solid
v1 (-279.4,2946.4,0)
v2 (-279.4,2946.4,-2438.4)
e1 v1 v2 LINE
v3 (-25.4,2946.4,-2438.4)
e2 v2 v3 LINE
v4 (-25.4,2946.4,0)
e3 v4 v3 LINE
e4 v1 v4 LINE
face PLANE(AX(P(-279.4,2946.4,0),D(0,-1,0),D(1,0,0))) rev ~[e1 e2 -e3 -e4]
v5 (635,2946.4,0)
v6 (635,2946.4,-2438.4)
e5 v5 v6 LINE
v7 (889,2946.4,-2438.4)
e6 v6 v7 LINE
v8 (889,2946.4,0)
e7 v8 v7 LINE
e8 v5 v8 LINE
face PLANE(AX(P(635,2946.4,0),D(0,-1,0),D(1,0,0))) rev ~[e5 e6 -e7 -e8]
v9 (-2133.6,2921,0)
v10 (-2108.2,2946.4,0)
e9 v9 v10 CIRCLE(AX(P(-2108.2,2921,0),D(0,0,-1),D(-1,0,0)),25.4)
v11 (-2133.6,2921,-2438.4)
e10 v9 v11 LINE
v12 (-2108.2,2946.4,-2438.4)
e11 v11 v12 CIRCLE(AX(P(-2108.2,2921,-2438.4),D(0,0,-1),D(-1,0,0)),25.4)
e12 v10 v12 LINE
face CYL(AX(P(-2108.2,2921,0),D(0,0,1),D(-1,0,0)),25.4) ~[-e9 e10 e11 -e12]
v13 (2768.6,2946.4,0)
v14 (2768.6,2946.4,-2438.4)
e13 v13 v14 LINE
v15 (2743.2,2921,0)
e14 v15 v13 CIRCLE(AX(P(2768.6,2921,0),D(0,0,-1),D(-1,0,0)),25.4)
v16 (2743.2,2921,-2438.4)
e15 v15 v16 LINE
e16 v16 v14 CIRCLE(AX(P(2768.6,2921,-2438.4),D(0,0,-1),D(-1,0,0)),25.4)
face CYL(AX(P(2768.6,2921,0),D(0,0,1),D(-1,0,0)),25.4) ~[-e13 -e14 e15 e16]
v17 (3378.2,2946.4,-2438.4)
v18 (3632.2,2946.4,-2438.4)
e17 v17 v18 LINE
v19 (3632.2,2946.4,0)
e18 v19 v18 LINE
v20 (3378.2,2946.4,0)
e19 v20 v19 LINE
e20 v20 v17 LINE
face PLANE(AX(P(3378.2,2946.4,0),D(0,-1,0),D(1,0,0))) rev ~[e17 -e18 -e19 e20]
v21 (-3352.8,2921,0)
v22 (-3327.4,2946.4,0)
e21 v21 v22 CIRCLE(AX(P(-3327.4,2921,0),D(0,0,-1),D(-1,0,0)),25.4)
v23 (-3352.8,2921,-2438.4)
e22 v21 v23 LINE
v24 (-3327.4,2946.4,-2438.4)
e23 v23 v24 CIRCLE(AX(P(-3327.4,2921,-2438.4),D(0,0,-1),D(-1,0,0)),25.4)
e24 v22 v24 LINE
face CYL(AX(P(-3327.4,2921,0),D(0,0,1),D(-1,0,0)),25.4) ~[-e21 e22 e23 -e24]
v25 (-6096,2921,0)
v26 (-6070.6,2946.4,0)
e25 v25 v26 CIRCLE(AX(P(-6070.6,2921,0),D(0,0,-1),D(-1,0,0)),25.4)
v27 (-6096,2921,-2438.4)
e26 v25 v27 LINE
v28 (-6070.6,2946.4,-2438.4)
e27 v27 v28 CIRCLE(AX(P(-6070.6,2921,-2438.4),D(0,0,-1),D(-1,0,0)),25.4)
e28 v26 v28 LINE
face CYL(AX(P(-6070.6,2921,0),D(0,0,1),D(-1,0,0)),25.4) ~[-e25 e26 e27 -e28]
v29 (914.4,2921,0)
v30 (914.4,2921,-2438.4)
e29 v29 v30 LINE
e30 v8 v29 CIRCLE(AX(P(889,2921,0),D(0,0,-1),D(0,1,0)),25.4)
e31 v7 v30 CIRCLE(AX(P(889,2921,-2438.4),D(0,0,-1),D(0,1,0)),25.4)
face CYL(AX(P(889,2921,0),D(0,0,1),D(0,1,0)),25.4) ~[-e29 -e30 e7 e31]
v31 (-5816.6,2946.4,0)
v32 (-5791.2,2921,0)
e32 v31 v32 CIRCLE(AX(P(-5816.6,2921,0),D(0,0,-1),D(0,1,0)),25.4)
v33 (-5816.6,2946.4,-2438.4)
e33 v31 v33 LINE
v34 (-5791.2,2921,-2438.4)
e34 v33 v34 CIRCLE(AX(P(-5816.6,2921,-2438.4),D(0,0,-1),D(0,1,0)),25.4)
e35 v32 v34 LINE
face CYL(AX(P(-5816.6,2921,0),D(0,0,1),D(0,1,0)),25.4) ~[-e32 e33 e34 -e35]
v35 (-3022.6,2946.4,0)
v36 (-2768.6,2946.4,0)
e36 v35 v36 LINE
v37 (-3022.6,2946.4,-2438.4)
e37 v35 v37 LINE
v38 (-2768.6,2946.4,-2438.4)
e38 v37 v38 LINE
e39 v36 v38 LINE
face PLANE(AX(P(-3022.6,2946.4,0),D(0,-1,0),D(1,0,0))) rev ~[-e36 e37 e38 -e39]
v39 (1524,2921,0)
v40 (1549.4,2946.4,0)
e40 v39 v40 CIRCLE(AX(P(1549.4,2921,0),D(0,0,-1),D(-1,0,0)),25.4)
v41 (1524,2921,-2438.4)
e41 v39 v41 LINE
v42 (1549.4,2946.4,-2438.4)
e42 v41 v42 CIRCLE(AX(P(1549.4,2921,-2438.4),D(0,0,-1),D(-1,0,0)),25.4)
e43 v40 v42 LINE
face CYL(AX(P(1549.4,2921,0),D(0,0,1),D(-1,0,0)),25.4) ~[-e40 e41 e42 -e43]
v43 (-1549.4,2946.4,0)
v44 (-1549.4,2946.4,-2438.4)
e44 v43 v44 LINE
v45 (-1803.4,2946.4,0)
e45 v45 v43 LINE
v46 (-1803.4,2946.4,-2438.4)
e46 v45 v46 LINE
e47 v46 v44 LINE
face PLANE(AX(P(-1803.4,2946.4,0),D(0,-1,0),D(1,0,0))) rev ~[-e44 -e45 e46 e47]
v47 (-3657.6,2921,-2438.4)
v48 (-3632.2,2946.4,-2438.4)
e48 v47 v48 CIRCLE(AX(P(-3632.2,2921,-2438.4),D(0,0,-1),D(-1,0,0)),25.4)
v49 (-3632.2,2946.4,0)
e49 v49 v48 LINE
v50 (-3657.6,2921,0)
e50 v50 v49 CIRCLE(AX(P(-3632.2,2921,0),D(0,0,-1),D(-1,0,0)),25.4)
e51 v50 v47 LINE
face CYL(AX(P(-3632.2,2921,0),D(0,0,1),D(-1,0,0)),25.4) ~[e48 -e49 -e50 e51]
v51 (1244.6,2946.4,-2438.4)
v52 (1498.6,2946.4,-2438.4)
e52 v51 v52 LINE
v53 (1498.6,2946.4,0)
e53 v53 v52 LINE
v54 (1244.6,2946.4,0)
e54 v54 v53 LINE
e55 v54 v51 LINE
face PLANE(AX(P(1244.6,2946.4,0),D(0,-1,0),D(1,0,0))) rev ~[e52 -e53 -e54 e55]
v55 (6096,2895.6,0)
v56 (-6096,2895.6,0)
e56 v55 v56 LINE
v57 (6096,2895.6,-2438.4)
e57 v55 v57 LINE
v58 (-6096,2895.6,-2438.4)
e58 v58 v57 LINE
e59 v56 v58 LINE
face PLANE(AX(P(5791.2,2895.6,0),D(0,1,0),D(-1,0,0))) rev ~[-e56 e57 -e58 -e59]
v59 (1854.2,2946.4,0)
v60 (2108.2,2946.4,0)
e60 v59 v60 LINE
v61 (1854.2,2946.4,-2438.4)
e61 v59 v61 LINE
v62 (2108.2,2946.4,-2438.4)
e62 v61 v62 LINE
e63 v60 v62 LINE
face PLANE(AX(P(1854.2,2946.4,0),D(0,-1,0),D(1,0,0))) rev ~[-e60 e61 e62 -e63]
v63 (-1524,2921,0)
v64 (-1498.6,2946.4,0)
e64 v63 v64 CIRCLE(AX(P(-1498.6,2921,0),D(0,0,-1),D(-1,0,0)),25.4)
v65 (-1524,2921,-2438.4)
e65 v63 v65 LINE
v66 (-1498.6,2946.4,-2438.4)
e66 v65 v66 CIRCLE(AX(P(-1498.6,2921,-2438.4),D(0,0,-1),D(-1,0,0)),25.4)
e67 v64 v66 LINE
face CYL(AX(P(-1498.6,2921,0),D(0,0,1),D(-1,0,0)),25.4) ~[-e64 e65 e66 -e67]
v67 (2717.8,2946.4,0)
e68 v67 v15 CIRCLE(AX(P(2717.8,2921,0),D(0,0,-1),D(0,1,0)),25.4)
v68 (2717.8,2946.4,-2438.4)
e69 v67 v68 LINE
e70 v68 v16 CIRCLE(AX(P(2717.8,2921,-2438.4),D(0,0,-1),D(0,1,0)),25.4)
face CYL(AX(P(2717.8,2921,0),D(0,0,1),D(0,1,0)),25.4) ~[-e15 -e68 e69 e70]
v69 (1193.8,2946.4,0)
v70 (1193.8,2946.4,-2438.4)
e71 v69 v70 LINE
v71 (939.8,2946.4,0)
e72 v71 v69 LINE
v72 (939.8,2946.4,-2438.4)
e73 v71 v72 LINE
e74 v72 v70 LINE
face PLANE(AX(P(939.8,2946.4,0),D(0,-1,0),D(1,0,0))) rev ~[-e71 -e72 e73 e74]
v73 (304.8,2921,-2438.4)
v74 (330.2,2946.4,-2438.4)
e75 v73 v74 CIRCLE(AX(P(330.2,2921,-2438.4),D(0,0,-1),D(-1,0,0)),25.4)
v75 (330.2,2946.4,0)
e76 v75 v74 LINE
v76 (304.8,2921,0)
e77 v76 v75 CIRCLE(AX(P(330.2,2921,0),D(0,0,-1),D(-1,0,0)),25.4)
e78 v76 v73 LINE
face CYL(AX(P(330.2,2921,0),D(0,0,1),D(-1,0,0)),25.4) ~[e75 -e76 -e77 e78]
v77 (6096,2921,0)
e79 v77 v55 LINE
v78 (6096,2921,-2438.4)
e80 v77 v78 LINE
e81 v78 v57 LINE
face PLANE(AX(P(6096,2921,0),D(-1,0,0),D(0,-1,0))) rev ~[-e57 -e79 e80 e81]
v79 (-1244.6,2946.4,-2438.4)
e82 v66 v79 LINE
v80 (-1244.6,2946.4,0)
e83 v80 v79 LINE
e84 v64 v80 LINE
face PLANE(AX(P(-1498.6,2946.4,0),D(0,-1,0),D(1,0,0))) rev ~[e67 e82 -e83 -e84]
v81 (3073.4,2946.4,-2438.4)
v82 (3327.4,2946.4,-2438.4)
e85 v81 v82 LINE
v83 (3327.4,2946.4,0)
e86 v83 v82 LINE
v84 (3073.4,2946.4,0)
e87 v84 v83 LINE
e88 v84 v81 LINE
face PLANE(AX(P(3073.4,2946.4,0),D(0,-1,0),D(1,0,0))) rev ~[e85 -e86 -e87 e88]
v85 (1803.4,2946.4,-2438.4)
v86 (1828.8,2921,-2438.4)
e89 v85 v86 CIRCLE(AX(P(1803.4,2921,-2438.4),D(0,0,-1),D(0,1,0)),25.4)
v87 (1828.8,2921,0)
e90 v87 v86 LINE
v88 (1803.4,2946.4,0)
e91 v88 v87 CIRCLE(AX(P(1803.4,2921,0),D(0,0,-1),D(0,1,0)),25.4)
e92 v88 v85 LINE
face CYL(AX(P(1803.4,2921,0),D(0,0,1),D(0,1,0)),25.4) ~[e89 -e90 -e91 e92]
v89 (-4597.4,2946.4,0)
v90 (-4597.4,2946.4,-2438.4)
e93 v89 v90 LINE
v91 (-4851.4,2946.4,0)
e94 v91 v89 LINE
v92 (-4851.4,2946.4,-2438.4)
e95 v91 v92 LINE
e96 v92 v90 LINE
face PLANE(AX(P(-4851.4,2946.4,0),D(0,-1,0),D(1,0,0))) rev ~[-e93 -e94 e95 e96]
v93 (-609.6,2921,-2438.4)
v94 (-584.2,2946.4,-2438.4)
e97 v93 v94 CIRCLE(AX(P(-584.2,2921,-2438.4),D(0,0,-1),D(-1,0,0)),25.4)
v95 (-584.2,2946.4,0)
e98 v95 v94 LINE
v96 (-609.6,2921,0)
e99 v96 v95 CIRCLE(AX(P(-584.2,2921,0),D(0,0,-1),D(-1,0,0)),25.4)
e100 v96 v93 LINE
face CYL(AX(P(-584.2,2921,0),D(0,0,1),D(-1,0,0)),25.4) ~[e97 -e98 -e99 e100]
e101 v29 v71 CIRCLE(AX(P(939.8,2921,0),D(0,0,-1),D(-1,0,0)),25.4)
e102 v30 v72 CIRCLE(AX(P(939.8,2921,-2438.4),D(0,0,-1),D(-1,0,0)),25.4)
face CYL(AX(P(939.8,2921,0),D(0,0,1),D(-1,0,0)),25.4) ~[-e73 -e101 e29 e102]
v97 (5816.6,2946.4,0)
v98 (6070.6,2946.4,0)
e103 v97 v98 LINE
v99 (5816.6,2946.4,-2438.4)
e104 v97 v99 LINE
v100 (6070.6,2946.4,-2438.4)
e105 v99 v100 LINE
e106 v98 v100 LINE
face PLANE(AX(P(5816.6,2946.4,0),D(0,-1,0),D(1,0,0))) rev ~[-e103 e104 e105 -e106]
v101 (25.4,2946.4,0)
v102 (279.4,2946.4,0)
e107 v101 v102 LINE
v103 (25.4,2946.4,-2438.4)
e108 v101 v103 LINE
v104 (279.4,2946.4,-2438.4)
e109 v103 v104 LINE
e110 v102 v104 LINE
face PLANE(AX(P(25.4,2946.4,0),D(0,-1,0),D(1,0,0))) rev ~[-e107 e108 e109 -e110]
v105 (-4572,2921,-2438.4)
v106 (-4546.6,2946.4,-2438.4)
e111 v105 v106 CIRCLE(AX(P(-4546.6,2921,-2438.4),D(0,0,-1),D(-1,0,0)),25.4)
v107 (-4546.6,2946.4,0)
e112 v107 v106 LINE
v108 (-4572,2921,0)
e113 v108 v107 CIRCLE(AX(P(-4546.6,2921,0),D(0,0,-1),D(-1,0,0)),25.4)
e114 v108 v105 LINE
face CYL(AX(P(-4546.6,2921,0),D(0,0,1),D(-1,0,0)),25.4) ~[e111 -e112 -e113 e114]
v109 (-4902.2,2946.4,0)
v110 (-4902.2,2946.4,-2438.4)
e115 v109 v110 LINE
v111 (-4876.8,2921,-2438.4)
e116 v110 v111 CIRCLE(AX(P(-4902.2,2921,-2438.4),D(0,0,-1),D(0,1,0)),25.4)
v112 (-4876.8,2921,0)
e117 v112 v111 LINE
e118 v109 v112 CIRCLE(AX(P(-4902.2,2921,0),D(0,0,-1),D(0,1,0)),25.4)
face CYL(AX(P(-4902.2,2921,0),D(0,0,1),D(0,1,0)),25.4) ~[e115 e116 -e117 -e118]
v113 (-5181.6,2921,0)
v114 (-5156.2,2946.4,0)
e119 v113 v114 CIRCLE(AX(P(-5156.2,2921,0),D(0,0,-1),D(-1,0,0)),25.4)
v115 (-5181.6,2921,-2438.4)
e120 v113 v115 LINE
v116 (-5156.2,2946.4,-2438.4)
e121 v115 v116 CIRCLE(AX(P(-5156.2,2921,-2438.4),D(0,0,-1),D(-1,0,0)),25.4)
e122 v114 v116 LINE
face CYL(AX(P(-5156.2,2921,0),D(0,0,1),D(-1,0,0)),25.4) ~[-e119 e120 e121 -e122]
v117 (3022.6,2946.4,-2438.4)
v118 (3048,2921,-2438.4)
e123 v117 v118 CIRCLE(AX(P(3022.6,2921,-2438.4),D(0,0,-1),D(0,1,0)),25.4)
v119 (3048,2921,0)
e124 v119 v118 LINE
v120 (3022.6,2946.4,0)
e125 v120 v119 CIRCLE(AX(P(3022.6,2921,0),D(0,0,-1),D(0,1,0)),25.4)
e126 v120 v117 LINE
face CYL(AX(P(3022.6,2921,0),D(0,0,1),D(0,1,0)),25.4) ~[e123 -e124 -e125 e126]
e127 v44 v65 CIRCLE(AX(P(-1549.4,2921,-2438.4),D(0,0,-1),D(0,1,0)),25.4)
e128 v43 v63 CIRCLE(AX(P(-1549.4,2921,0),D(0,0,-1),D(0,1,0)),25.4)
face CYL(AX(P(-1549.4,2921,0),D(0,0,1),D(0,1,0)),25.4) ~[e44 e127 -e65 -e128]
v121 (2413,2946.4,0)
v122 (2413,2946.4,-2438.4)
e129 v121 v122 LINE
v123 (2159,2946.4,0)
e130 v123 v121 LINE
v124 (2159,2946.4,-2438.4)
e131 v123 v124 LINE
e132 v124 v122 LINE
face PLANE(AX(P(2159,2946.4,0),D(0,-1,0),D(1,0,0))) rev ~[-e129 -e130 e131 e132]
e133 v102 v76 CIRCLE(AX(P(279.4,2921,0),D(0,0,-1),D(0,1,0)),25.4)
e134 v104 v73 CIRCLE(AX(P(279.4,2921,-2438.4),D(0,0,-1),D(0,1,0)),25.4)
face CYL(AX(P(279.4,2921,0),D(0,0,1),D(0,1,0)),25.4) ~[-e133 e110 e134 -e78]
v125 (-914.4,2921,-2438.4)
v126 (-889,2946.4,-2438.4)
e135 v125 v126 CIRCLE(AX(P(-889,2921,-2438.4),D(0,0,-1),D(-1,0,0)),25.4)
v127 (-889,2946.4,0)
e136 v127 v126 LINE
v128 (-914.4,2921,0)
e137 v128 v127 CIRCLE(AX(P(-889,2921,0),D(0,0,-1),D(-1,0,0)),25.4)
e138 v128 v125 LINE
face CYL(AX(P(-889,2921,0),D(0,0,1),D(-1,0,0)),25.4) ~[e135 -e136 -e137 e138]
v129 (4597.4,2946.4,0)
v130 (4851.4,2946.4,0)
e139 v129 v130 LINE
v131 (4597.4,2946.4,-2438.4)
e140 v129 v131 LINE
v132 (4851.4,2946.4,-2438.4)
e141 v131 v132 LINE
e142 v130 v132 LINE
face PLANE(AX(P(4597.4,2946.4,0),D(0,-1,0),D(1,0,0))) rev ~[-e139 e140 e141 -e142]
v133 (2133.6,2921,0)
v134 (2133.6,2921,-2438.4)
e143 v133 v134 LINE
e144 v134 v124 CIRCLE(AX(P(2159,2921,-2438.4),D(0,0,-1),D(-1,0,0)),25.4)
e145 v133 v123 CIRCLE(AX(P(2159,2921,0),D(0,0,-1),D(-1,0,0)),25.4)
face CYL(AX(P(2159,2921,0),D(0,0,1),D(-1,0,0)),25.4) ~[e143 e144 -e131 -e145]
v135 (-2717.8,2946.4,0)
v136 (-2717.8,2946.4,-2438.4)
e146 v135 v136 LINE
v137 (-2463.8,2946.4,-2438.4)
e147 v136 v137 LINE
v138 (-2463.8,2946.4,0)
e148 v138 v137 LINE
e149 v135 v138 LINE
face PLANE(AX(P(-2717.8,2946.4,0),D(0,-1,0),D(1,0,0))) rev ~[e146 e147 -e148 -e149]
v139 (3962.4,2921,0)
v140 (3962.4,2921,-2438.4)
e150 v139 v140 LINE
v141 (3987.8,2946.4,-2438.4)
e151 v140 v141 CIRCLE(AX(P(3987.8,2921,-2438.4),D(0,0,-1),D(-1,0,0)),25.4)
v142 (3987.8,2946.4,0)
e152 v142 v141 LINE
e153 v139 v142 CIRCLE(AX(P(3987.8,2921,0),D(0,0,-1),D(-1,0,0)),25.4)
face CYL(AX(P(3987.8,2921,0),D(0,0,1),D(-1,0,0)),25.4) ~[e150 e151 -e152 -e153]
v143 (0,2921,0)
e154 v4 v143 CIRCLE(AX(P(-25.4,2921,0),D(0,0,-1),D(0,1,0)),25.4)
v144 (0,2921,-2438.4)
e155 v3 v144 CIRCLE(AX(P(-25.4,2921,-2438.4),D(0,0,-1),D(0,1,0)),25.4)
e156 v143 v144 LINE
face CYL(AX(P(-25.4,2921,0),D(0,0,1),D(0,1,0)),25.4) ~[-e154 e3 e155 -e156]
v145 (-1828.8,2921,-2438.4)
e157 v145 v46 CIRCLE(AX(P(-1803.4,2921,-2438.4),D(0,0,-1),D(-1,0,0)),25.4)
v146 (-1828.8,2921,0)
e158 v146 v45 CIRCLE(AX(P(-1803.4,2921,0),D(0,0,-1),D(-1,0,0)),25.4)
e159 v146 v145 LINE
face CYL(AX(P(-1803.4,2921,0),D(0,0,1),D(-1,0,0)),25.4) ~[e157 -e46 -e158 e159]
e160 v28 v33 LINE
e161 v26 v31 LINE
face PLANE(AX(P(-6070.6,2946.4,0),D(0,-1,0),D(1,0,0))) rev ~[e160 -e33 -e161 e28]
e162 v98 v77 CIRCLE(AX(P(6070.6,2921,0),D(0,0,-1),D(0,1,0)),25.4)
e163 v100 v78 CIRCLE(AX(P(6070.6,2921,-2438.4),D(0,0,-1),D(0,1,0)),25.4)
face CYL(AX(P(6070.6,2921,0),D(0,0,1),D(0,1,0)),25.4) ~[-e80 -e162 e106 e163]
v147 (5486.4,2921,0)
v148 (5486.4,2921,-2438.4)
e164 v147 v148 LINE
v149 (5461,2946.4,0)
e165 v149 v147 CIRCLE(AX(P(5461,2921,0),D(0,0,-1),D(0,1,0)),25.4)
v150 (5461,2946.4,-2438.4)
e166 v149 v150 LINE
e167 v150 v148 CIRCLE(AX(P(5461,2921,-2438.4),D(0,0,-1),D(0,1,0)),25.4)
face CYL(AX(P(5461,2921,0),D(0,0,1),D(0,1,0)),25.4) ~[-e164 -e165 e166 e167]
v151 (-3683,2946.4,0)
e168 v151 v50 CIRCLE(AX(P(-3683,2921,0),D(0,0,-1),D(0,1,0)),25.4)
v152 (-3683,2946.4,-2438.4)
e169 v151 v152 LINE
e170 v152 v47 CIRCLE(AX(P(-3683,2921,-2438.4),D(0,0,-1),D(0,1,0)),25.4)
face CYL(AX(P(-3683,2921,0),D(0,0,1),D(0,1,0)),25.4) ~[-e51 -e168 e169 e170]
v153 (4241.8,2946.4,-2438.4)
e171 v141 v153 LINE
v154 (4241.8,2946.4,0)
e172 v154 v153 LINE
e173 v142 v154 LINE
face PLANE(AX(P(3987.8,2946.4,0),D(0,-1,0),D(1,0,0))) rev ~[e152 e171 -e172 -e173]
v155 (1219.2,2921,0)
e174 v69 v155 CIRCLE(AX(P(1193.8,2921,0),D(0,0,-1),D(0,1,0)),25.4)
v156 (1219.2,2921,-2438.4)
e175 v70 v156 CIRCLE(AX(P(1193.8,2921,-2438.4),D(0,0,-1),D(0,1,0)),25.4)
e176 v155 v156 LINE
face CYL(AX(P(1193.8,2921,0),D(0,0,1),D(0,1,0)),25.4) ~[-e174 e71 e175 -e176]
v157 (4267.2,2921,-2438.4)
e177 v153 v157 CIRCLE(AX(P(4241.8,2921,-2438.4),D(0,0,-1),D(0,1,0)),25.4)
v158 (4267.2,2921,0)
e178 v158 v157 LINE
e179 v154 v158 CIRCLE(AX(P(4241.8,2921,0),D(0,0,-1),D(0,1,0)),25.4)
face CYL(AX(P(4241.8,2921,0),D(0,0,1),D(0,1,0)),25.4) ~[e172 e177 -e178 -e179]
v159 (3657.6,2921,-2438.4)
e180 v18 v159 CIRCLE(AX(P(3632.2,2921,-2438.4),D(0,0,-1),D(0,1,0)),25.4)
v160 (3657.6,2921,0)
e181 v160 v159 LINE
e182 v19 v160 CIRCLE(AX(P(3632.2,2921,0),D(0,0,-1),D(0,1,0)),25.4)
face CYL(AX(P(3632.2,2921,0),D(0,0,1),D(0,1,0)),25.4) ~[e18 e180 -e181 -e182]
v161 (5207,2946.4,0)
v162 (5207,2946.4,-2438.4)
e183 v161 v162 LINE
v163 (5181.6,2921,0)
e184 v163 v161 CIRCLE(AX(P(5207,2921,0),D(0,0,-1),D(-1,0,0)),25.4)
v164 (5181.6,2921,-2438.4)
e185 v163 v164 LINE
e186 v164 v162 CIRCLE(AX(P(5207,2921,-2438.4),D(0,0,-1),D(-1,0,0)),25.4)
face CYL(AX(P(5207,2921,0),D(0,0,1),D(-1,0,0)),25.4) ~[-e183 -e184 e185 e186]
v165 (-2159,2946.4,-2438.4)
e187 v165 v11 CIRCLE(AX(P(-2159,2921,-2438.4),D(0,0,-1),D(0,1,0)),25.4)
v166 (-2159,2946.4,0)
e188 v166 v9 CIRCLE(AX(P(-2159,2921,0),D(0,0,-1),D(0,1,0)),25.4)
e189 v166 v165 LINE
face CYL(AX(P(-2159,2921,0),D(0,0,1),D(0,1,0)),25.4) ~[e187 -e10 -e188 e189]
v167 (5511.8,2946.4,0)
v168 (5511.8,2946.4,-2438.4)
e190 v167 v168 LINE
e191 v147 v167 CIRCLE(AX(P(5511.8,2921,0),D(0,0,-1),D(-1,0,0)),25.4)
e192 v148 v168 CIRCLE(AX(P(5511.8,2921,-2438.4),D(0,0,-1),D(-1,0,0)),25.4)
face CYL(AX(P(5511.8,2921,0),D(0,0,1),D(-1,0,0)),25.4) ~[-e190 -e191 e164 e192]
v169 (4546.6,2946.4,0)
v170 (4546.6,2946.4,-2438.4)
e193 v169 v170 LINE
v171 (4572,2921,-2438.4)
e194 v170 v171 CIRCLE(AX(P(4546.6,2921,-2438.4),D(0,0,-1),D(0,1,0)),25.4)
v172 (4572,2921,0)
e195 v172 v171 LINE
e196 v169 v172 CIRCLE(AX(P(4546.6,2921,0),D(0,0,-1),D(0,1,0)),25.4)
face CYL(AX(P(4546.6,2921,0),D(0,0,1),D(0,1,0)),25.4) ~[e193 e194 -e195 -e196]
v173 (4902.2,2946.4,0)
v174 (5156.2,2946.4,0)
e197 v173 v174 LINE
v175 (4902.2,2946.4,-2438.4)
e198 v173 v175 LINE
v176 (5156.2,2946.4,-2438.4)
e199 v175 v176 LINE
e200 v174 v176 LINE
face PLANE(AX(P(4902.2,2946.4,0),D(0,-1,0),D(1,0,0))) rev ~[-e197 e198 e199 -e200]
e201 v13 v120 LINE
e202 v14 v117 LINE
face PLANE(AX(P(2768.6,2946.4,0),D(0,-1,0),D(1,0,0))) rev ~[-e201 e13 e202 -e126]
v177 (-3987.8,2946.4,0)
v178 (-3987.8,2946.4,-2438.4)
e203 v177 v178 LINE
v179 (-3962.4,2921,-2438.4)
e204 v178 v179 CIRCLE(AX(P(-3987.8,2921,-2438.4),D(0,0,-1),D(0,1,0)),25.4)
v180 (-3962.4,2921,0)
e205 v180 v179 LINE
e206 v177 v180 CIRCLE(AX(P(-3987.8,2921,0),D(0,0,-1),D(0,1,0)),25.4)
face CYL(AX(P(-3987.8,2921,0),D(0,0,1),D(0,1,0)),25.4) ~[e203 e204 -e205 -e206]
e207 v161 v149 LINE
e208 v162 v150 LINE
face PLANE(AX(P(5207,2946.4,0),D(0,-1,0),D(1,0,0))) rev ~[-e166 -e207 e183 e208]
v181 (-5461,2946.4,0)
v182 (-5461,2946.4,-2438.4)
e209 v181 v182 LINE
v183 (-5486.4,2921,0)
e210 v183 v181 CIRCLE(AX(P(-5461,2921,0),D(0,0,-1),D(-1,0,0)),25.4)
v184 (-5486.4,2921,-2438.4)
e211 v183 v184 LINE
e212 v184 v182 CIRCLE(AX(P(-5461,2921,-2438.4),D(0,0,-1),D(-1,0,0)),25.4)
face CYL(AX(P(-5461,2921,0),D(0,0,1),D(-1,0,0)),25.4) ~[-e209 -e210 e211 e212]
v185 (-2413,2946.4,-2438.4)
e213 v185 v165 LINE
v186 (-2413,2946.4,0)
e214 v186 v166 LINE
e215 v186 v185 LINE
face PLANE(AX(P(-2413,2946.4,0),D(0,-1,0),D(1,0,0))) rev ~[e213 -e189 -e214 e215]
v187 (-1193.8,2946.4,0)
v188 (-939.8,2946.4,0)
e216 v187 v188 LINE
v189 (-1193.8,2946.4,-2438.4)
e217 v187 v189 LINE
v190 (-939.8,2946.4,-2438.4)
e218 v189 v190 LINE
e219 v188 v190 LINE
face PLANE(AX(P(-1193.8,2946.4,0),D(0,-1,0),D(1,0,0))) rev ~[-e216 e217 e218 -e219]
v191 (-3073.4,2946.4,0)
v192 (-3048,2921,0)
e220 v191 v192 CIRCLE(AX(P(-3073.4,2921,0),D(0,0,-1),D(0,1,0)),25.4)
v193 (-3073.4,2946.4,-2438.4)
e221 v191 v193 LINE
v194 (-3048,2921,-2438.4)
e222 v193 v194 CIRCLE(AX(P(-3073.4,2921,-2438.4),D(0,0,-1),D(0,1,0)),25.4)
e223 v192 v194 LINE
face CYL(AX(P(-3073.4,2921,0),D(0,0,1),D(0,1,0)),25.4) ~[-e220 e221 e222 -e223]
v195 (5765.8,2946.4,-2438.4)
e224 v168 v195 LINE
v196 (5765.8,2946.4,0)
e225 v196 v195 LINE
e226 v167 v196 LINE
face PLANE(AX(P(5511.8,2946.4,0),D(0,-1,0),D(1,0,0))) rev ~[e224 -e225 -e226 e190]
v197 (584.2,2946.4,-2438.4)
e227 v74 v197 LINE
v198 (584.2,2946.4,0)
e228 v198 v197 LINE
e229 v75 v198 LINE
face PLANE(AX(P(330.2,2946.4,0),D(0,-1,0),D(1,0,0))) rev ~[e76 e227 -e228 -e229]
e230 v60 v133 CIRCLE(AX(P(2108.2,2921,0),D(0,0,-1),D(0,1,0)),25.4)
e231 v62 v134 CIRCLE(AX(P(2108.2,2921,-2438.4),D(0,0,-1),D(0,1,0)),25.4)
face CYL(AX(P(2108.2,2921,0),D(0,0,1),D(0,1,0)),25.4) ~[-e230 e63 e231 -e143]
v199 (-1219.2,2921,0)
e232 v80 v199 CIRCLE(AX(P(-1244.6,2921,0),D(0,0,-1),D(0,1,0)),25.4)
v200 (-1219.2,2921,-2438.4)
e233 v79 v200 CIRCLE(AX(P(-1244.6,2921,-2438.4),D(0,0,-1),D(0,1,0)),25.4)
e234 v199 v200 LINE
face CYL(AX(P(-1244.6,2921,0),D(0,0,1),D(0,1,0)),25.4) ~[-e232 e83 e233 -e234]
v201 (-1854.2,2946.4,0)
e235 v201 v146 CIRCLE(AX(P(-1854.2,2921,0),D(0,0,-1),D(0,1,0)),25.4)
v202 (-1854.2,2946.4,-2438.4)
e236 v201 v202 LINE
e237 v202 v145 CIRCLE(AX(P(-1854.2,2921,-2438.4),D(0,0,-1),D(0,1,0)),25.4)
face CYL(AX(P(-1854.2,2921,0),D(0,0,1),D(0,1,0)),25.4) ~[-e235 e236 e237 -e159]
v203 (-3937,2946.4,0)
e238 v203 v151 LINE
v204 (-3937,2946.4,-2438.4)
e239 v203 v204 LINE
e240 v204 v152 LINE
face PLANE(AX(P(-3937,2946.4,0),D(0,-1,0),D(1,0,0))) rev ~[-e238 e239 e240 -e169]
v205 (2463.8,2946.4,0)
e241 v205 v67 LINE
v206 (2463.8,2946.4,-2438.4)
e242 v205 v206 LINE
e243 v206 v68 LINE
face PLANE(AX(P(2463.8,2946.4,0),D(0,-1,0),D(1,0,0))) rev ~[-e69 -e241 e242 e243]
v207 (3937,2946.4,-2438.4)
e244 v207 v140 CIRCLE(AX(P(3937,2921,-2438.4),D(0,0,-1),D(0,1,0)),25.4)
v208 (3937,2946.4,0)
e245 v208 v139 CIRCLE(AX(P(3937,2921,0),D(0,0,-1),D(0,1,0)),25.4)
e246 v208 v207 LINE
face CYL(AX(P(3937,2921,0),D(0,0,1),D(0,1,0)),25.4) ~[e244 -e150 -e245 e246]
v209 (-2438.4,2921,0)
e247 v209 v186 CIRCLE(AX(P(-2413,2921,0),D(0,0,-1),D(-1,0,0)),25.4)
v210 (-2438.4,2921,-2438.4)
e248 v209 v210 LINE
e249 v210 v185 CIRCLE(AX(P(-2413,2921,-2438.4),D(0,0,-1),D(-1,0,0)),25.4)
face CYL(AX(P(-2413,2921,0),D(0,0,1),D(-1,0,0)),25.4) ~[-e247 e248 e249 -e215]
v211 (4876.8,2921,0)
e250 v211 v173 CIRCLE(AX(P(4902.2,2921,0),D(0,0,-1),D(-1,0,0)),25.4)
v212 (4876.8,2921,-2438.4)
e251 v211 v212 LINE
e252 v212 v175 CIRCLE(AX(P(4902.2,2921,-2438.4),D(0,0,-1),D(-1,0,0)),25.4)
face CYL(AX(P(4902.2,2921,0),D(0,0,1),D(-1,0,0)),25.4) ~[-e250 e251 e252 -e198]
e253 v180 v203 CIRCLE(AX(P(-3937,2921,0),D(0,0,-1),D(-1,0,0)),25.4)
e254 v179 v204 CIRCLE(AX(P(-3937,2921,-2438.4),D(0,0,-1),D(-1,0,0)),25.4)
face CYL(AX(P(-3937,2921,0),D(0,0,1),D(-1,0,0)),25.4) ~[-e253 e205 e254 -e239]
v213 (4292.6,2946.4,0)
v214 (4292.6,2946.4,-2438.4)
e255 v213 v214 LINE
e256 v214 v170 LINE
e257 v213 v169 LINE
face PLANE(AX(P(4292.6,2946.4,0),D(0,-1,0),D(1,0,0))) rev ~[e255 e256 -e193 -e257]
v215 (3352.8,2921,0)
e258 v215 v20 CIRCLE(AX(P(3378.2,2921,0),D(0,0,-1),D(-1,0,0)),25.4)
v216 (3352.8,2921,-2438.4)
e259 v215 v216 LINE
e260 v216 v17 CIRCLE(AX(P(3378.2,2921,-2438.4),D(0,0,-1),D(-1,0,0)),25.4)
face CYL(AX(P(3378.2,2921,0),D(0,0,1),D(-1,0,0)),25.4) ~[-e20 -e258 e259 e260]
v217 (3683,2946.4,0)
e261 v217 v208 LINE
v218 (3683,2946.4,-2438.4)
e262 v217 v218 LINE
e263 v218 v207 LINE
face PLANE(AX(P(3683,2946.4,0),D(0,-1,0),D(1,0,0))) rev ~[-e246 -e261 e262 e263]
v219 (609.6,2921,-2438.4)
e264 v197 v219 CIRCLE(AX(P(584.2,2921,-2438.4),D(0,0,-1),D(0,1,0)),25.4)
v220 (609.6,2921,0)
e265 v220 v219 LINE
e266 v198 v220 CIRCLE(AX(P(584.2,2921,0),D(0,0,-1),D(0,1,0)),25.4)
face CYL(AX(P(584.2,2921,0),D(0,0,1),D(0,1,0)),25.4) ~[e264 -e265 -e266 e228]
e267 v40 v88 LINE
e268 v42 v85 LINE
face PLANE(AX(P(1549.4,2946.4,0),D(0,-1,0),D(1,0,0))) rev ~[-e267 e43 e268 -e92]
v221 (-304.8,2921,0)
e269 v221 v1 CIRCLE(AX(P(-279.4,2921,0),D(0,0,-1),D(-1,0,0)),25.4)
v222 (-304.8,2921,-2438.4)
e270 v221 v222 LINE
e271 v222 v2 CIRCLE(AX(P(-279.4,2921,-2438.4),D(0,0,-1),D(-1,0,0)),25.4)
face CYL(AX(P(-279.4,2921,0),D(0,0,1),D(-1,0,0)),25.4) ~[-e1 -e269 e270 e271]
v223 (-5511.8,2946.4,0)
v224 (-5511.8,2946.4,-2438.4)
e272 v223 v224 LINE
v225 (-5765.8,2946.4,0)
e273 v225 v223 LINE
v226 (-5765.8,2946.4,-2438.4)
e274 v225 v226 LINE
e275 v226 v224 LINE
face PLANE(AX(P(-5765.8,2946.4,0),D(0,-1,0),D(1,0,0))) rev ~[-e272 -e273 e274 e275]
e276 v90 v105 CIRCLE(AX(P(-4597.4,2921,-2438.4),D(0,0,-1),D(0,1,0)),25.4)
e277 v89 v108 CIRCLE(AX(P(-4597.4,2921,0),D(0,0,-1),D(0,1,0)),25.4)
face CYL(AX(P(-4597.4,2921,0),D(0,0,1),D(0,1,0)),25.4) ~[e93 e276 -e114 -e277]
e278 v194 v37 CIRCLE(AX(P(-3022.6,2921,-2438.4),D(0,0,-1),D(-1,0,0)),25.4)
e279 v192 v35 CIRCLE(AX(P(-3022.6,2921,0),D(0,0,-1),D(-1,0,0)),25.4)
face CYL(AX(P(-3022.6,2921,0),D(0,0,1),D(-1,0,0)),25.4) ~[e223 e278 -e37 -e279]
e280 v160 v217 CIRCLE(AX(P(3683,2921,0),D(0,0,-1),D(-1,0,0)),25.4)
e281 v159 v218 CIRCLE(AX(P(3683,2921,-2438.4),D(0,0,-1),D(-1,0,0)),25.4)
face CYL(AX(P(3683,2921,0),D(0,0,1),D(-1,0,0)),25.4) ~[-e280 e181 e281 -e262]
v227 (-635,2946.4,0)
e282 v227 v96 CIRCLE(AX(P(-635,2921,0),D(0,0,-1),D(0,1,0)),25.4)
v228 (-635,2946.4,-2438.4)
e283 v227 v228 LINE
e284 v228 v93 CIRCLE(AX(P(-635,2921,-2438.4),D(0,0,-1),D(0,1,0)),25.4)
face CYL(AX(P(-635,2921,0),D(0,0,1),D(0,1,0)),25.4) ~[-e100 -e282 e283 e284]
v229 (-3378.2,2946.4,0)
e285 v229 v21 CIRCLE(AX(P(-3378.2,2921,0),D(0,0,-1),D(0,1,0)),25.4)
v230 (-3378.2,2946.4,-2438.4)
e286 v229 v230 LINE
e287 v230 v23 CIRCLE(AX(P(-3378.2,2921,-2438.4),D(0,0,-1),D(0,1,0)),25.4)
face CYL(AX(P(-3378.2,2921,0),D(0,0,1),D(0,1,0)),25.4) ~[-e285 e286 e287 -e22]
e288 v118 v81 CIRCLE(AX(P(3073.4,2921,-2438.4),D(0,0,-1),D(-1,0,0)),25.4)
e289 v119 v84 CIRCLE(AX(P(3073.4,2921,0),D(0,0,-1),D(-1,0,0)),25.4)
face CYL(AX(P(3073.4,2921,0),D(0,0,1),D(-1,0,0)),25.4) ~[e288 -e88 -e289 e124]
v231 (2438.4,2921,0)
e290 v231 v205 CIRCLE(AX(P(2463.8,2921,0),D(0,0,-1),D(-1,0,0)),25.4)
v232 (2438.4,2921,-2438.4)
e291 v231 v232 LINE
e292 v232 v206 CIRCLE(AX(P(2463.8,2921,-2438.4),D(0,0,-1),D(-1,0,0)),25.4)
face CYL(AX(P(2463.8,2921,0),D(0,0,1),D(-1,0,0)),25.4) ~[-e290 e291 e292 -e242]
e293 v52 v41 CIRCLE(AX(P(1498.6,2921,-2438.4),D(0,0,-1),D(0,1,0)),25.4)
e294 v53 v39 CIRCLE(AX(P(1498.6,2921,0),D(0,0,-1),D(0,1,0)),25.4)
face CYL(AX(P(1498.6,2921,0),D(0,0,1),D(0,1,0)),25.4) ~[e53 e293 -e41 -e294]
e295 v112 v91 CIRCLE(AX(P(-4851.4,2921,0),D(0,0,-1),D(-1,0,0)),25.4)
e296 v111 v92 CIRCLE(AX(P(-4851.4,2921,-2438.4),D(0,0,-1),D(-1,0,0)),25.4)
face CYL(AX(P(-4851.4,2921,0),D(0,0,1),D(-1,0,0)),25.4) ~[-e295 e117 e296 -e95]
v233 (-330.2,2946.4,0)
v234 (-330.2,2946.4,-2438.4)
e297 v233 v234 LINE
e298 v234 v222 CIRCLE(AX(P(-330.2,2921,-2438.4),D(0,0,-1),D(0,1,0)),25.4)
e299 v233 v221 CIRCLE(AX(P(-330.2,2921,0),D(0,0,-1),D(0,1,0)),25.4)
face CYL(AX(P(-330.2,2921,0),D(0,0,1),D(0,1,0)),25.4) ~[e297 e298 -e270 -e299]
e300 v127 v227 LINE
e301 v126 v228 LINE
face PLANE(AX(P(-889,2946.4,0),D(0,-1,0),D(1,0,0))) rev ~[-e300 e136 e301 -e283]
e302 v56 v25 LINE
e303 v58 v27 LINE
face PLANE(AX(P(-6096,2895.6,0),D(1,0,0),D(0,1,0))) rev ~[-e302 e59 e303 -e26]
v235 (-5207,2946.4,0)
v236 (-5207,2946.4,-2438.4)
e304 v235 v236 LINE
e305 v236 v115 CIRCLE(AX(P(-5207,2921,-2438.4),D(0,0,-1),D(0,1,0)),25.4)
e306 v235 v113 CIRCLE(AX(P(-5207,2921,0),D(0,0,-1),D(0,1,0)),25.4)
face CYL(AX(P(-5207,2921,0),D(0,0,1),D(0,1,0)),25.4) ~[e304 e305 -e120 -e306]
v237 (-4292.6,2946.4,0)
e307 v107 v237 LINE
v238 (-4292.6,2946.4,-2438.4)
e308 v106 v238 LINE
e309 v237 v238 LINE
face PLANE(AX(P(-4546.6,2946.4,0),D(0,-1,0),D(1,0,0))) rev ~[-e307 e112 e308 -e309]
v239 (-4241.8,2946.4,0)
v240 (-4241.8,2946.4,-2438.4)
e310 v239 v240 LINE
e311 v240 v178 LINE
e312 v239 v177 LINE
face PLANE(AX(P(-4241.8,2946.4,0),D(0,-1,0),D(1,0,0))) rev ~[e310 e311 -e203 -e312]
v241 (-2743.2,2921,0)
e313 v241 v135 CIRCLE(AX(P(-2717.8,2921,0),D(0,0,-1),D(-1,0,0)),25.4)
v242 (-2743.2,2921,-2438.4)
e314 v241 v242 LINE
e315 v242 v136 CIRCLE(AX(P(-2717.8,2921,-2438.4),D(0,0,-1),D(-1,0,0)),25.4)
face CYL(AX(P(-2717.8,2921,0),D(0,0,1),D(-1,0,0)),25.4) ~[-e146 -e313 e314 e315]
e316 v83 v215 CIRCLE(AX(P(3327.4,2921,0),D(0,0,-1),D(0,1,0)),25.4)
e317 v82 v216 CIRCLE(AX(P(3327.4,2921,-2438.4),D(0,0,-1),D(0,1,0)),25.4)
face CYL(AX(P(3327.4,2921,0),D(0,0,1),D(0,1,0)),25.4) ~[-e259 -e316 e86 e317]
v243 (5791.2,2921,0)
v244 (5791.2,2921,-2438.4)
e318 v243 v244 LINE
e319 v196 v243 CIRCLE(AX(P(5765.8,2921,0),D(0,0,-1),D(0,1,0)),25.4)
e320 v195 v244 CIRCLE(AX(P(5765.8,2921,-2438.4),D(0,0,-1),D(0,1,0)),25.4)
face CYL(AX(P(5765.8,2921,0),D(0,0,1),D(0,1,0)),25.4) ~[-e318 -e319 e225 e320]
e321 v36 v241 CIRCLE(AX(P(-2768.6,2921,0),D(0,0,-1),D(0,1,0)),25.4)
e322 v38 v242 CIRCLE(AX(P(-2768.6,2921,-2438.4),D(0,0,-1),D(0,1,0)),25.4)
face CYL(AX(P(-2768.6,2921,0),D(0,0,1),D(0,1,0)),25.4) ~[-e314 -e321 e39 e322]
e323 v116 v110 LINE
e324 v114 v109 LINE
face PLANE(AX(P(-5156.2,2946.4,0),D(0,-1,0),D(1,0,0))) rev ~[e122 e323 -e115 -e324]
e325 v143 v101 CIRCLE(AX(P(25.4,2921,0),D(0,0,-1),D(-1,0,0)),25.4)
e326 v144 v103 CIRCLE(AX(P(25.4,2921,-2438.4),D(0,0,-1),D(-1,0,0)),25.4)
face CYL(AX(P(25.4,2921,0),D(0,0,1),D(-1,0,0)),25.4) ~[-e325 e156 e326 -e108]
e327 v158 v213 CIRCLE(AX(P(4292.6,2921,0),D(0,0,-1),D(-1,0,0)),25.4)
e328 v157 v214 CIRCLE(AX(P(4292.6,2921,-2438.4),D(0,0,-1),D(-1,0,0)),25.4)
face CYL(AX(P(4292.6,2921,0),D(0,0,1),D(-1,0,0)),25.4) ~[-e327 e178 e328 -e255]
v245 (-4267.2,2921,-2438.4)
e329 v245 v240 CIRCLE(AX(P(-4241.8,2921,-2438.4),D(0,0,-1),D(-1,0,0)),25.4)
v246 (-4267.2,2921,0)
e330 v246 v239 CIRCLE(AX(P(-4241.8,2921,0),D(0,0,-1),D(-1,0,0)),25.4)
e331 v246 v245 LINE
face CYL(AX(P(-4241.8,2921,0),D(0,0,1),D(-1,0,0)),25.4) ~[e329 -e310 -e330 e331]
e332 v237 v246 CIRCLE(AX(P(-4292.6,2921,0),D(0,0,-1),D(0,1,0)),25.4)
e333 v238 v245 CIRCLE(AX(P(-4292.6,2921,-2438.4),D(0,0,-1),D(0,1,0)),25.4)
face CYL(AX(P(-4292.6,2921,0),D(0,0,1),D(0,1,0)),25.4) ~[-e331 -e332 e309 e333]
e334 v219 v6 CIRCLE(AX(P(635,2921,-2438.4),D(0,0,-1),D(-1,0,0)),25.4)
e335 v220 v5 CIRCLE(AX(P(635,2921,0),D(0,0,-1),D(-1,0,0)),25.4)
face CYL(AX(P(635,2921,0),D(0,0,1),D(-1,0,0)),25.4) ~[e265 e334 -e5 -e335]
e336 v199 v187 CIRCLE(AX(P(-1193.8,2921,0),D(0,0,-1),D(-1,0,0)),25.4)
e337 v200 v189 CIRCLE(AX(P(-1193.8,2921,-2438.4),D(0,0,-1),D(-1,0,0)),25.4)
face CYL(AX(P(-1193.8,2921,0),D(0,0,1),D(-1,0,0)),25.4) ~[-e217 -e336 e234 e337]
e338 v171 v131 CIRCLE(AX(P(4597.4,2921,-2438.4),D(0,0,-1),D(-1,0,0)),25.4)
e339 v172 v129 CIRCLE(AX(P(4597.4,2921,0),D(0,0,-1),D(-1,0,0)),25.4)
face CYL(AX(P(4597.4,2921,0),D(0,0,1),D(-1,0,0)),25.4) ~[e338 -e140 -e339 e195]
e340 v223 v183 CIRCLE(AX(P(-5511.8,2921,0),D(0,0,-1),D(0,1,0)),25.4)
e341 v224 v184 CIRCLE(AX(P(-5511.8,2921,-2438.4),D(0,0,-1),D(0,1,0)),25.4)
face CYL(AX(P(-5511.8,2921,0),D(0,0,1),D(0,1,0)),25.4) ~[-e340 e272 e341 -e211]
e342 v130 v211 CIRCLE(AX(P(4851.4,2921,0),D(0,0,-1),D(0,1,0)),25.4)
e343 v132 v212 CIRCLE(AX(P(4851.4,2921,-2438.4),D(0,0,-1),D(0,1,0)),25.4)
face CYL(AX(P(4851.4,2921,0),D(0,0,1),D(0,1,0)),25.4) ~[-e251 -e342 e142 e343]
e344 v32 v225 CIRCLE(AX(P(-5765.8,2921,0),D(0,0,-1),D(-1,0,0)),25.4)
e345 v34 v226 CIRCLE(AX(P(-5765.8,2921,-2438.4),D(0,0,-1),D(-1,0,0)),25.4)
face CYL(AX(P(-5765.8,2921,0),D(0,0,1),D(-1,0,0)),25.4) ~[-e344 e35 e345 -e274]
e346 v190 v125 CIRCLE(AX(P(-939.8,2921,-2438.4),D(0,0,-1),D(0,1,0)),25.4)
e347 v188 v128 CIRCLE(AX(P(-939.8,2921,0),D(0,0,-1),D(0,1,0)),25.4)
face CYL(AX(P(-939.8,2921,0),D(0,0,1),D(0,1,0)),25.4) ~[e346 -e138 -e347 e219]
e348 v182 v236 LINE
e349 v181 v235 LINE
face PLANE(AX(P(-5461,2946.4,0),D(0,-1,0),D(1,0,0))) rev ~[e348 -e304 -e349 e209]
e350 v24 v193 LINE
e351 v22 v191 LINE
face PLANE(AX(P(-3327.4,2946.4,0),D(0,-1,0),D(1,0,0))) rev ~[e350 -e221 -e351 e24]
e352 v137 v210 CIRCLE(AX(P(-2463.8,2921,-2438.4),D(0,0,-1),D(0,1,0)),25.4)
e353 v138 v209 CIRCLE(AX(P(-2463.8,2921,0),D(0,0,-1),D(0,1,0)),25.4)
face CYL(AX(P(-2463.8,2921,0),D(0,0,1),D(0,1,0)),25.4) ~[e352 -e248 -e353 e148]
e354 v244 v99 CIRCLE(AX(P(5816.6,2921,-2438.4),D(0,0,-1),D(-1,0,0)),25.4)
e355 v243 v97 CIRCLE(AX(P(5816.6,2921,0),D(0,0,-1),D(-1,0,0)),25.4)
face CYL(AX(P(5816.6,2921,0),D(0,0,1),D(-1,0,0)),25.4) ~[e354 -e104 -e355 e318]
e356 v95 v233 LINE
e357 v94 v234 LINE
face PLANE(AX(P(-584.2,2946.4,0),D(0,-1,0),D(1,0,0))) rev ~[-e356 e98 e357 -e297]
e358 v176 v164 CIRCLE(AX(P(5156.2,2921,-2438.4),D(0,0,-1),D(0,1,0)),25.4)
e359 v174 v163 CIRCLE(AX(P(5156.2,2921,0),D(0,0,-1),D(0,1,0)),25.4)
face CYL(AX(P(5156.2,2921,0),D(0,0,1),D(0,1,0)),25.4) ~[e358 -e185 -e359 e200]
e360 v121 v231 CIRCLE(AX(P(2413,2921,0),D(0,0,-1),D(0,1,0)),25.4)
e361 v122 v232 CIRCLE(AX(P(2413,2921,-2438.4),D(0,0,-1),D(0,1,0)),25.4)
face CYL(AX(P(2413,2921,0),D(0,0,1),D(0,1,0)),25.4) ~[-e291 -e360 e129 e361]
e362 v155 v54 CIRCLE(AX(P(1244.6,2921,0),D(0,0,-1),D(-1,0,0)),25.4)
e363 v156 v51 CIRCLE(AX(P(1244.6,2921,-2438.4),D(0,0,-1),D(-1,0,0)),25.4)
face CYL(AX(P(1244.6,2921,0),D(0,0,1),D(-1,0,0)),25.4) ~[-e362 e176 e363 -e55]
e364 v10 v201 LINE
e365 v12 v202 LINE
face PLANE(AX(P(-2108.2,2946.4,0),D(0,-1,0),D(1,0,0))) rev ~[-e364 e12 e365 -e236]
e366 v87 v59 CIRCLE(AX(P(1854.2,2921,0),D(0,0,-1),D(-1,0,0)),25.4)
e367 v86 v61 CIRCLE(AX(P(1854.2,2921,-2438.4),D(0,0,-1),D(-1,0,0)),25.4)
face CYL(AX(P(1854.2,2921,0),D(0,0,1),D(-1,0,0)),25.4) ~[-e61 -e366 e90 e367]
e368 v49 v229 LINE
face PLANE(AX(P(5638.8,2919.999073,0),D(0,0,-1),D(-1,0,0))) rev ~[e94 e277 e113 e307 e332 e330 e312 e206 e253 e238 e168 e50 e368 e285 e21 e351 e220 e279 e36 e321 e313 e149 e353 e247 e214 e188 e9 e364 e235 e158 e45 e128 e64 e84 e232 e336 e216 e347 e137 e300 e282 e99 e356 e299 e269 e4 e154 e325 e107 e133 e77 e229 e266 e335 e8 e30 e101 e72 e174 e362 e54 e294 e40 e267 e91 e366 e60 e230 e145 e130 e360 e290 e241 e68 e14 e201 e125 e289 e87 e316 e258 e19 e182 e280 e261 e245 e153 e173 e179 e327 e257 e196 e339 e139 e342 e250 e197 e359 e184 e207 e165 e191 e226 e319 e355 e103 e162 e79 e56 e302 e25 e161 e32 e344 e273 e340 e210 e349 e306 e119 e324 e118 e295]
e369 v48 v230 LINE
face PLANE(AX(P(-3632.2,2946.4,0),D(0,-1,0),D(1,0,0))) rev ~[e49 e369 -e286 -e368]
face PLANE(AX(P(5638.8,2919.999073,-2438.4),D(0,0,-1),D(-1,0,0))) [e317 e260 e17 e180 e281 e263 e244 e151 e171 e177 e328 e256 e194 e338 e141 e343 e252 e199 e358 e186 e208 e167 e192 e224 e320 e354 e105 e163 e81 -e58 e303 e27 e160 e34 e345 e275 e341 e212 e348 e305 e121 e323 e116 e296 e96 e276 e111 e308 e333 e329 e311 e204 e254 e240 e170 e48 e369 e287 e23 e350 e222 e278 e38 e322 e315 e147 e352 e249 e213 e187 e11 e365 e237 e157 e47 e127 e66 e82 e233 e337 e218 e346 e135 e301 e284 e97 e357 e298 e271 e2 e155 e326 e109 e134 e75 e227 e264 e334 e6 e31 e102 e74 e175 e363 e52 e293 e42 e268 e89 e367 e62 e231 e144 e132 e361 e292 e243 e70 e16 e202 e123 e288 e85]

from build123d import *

# Parameters (mm, degrees)
BOSS_EXTRUDE1_DEPTH = 2438.4
LPATTERN1_COUNT     = 40
LPATTERN1_PITCH     = 304.8


with BuildPart() as part:
    # Sketch1 → Boss-Extrude1 (new body)
    with BuildSketch(Plane.XY):
        with BuildLine():
            Line((6096, 2895.6), (5791.2, 2895.6))
            Line((5791.2, 2895.6), (5791.2, 2921))
            ThreePointArc((5791.2, 2921), (5798.639487758, 2938.960512242), (5816.6, 2946.4))
            Line((5816.6, 2946.4), (6070.6, 2946.4))
            ThreePointArc((6070.6, 2946.4), (6088.560512242, 2938.960512242), (6096, 2921))
            Line((6096, 2921), (6096, 2895.6))
        make_face()
    boss_extrude1 = extrude(amount=-BOSS_EXTRUDE1_DEPTH)

    # LPattern1: Boss-Extrude1 ×40
    with Locations(*[(-i * LPATTERN1_PITCH, 0, 0) for i in range(1, LPATTERN1_COUNT)]):
        add(boss_extrude1)


solid = part.part
